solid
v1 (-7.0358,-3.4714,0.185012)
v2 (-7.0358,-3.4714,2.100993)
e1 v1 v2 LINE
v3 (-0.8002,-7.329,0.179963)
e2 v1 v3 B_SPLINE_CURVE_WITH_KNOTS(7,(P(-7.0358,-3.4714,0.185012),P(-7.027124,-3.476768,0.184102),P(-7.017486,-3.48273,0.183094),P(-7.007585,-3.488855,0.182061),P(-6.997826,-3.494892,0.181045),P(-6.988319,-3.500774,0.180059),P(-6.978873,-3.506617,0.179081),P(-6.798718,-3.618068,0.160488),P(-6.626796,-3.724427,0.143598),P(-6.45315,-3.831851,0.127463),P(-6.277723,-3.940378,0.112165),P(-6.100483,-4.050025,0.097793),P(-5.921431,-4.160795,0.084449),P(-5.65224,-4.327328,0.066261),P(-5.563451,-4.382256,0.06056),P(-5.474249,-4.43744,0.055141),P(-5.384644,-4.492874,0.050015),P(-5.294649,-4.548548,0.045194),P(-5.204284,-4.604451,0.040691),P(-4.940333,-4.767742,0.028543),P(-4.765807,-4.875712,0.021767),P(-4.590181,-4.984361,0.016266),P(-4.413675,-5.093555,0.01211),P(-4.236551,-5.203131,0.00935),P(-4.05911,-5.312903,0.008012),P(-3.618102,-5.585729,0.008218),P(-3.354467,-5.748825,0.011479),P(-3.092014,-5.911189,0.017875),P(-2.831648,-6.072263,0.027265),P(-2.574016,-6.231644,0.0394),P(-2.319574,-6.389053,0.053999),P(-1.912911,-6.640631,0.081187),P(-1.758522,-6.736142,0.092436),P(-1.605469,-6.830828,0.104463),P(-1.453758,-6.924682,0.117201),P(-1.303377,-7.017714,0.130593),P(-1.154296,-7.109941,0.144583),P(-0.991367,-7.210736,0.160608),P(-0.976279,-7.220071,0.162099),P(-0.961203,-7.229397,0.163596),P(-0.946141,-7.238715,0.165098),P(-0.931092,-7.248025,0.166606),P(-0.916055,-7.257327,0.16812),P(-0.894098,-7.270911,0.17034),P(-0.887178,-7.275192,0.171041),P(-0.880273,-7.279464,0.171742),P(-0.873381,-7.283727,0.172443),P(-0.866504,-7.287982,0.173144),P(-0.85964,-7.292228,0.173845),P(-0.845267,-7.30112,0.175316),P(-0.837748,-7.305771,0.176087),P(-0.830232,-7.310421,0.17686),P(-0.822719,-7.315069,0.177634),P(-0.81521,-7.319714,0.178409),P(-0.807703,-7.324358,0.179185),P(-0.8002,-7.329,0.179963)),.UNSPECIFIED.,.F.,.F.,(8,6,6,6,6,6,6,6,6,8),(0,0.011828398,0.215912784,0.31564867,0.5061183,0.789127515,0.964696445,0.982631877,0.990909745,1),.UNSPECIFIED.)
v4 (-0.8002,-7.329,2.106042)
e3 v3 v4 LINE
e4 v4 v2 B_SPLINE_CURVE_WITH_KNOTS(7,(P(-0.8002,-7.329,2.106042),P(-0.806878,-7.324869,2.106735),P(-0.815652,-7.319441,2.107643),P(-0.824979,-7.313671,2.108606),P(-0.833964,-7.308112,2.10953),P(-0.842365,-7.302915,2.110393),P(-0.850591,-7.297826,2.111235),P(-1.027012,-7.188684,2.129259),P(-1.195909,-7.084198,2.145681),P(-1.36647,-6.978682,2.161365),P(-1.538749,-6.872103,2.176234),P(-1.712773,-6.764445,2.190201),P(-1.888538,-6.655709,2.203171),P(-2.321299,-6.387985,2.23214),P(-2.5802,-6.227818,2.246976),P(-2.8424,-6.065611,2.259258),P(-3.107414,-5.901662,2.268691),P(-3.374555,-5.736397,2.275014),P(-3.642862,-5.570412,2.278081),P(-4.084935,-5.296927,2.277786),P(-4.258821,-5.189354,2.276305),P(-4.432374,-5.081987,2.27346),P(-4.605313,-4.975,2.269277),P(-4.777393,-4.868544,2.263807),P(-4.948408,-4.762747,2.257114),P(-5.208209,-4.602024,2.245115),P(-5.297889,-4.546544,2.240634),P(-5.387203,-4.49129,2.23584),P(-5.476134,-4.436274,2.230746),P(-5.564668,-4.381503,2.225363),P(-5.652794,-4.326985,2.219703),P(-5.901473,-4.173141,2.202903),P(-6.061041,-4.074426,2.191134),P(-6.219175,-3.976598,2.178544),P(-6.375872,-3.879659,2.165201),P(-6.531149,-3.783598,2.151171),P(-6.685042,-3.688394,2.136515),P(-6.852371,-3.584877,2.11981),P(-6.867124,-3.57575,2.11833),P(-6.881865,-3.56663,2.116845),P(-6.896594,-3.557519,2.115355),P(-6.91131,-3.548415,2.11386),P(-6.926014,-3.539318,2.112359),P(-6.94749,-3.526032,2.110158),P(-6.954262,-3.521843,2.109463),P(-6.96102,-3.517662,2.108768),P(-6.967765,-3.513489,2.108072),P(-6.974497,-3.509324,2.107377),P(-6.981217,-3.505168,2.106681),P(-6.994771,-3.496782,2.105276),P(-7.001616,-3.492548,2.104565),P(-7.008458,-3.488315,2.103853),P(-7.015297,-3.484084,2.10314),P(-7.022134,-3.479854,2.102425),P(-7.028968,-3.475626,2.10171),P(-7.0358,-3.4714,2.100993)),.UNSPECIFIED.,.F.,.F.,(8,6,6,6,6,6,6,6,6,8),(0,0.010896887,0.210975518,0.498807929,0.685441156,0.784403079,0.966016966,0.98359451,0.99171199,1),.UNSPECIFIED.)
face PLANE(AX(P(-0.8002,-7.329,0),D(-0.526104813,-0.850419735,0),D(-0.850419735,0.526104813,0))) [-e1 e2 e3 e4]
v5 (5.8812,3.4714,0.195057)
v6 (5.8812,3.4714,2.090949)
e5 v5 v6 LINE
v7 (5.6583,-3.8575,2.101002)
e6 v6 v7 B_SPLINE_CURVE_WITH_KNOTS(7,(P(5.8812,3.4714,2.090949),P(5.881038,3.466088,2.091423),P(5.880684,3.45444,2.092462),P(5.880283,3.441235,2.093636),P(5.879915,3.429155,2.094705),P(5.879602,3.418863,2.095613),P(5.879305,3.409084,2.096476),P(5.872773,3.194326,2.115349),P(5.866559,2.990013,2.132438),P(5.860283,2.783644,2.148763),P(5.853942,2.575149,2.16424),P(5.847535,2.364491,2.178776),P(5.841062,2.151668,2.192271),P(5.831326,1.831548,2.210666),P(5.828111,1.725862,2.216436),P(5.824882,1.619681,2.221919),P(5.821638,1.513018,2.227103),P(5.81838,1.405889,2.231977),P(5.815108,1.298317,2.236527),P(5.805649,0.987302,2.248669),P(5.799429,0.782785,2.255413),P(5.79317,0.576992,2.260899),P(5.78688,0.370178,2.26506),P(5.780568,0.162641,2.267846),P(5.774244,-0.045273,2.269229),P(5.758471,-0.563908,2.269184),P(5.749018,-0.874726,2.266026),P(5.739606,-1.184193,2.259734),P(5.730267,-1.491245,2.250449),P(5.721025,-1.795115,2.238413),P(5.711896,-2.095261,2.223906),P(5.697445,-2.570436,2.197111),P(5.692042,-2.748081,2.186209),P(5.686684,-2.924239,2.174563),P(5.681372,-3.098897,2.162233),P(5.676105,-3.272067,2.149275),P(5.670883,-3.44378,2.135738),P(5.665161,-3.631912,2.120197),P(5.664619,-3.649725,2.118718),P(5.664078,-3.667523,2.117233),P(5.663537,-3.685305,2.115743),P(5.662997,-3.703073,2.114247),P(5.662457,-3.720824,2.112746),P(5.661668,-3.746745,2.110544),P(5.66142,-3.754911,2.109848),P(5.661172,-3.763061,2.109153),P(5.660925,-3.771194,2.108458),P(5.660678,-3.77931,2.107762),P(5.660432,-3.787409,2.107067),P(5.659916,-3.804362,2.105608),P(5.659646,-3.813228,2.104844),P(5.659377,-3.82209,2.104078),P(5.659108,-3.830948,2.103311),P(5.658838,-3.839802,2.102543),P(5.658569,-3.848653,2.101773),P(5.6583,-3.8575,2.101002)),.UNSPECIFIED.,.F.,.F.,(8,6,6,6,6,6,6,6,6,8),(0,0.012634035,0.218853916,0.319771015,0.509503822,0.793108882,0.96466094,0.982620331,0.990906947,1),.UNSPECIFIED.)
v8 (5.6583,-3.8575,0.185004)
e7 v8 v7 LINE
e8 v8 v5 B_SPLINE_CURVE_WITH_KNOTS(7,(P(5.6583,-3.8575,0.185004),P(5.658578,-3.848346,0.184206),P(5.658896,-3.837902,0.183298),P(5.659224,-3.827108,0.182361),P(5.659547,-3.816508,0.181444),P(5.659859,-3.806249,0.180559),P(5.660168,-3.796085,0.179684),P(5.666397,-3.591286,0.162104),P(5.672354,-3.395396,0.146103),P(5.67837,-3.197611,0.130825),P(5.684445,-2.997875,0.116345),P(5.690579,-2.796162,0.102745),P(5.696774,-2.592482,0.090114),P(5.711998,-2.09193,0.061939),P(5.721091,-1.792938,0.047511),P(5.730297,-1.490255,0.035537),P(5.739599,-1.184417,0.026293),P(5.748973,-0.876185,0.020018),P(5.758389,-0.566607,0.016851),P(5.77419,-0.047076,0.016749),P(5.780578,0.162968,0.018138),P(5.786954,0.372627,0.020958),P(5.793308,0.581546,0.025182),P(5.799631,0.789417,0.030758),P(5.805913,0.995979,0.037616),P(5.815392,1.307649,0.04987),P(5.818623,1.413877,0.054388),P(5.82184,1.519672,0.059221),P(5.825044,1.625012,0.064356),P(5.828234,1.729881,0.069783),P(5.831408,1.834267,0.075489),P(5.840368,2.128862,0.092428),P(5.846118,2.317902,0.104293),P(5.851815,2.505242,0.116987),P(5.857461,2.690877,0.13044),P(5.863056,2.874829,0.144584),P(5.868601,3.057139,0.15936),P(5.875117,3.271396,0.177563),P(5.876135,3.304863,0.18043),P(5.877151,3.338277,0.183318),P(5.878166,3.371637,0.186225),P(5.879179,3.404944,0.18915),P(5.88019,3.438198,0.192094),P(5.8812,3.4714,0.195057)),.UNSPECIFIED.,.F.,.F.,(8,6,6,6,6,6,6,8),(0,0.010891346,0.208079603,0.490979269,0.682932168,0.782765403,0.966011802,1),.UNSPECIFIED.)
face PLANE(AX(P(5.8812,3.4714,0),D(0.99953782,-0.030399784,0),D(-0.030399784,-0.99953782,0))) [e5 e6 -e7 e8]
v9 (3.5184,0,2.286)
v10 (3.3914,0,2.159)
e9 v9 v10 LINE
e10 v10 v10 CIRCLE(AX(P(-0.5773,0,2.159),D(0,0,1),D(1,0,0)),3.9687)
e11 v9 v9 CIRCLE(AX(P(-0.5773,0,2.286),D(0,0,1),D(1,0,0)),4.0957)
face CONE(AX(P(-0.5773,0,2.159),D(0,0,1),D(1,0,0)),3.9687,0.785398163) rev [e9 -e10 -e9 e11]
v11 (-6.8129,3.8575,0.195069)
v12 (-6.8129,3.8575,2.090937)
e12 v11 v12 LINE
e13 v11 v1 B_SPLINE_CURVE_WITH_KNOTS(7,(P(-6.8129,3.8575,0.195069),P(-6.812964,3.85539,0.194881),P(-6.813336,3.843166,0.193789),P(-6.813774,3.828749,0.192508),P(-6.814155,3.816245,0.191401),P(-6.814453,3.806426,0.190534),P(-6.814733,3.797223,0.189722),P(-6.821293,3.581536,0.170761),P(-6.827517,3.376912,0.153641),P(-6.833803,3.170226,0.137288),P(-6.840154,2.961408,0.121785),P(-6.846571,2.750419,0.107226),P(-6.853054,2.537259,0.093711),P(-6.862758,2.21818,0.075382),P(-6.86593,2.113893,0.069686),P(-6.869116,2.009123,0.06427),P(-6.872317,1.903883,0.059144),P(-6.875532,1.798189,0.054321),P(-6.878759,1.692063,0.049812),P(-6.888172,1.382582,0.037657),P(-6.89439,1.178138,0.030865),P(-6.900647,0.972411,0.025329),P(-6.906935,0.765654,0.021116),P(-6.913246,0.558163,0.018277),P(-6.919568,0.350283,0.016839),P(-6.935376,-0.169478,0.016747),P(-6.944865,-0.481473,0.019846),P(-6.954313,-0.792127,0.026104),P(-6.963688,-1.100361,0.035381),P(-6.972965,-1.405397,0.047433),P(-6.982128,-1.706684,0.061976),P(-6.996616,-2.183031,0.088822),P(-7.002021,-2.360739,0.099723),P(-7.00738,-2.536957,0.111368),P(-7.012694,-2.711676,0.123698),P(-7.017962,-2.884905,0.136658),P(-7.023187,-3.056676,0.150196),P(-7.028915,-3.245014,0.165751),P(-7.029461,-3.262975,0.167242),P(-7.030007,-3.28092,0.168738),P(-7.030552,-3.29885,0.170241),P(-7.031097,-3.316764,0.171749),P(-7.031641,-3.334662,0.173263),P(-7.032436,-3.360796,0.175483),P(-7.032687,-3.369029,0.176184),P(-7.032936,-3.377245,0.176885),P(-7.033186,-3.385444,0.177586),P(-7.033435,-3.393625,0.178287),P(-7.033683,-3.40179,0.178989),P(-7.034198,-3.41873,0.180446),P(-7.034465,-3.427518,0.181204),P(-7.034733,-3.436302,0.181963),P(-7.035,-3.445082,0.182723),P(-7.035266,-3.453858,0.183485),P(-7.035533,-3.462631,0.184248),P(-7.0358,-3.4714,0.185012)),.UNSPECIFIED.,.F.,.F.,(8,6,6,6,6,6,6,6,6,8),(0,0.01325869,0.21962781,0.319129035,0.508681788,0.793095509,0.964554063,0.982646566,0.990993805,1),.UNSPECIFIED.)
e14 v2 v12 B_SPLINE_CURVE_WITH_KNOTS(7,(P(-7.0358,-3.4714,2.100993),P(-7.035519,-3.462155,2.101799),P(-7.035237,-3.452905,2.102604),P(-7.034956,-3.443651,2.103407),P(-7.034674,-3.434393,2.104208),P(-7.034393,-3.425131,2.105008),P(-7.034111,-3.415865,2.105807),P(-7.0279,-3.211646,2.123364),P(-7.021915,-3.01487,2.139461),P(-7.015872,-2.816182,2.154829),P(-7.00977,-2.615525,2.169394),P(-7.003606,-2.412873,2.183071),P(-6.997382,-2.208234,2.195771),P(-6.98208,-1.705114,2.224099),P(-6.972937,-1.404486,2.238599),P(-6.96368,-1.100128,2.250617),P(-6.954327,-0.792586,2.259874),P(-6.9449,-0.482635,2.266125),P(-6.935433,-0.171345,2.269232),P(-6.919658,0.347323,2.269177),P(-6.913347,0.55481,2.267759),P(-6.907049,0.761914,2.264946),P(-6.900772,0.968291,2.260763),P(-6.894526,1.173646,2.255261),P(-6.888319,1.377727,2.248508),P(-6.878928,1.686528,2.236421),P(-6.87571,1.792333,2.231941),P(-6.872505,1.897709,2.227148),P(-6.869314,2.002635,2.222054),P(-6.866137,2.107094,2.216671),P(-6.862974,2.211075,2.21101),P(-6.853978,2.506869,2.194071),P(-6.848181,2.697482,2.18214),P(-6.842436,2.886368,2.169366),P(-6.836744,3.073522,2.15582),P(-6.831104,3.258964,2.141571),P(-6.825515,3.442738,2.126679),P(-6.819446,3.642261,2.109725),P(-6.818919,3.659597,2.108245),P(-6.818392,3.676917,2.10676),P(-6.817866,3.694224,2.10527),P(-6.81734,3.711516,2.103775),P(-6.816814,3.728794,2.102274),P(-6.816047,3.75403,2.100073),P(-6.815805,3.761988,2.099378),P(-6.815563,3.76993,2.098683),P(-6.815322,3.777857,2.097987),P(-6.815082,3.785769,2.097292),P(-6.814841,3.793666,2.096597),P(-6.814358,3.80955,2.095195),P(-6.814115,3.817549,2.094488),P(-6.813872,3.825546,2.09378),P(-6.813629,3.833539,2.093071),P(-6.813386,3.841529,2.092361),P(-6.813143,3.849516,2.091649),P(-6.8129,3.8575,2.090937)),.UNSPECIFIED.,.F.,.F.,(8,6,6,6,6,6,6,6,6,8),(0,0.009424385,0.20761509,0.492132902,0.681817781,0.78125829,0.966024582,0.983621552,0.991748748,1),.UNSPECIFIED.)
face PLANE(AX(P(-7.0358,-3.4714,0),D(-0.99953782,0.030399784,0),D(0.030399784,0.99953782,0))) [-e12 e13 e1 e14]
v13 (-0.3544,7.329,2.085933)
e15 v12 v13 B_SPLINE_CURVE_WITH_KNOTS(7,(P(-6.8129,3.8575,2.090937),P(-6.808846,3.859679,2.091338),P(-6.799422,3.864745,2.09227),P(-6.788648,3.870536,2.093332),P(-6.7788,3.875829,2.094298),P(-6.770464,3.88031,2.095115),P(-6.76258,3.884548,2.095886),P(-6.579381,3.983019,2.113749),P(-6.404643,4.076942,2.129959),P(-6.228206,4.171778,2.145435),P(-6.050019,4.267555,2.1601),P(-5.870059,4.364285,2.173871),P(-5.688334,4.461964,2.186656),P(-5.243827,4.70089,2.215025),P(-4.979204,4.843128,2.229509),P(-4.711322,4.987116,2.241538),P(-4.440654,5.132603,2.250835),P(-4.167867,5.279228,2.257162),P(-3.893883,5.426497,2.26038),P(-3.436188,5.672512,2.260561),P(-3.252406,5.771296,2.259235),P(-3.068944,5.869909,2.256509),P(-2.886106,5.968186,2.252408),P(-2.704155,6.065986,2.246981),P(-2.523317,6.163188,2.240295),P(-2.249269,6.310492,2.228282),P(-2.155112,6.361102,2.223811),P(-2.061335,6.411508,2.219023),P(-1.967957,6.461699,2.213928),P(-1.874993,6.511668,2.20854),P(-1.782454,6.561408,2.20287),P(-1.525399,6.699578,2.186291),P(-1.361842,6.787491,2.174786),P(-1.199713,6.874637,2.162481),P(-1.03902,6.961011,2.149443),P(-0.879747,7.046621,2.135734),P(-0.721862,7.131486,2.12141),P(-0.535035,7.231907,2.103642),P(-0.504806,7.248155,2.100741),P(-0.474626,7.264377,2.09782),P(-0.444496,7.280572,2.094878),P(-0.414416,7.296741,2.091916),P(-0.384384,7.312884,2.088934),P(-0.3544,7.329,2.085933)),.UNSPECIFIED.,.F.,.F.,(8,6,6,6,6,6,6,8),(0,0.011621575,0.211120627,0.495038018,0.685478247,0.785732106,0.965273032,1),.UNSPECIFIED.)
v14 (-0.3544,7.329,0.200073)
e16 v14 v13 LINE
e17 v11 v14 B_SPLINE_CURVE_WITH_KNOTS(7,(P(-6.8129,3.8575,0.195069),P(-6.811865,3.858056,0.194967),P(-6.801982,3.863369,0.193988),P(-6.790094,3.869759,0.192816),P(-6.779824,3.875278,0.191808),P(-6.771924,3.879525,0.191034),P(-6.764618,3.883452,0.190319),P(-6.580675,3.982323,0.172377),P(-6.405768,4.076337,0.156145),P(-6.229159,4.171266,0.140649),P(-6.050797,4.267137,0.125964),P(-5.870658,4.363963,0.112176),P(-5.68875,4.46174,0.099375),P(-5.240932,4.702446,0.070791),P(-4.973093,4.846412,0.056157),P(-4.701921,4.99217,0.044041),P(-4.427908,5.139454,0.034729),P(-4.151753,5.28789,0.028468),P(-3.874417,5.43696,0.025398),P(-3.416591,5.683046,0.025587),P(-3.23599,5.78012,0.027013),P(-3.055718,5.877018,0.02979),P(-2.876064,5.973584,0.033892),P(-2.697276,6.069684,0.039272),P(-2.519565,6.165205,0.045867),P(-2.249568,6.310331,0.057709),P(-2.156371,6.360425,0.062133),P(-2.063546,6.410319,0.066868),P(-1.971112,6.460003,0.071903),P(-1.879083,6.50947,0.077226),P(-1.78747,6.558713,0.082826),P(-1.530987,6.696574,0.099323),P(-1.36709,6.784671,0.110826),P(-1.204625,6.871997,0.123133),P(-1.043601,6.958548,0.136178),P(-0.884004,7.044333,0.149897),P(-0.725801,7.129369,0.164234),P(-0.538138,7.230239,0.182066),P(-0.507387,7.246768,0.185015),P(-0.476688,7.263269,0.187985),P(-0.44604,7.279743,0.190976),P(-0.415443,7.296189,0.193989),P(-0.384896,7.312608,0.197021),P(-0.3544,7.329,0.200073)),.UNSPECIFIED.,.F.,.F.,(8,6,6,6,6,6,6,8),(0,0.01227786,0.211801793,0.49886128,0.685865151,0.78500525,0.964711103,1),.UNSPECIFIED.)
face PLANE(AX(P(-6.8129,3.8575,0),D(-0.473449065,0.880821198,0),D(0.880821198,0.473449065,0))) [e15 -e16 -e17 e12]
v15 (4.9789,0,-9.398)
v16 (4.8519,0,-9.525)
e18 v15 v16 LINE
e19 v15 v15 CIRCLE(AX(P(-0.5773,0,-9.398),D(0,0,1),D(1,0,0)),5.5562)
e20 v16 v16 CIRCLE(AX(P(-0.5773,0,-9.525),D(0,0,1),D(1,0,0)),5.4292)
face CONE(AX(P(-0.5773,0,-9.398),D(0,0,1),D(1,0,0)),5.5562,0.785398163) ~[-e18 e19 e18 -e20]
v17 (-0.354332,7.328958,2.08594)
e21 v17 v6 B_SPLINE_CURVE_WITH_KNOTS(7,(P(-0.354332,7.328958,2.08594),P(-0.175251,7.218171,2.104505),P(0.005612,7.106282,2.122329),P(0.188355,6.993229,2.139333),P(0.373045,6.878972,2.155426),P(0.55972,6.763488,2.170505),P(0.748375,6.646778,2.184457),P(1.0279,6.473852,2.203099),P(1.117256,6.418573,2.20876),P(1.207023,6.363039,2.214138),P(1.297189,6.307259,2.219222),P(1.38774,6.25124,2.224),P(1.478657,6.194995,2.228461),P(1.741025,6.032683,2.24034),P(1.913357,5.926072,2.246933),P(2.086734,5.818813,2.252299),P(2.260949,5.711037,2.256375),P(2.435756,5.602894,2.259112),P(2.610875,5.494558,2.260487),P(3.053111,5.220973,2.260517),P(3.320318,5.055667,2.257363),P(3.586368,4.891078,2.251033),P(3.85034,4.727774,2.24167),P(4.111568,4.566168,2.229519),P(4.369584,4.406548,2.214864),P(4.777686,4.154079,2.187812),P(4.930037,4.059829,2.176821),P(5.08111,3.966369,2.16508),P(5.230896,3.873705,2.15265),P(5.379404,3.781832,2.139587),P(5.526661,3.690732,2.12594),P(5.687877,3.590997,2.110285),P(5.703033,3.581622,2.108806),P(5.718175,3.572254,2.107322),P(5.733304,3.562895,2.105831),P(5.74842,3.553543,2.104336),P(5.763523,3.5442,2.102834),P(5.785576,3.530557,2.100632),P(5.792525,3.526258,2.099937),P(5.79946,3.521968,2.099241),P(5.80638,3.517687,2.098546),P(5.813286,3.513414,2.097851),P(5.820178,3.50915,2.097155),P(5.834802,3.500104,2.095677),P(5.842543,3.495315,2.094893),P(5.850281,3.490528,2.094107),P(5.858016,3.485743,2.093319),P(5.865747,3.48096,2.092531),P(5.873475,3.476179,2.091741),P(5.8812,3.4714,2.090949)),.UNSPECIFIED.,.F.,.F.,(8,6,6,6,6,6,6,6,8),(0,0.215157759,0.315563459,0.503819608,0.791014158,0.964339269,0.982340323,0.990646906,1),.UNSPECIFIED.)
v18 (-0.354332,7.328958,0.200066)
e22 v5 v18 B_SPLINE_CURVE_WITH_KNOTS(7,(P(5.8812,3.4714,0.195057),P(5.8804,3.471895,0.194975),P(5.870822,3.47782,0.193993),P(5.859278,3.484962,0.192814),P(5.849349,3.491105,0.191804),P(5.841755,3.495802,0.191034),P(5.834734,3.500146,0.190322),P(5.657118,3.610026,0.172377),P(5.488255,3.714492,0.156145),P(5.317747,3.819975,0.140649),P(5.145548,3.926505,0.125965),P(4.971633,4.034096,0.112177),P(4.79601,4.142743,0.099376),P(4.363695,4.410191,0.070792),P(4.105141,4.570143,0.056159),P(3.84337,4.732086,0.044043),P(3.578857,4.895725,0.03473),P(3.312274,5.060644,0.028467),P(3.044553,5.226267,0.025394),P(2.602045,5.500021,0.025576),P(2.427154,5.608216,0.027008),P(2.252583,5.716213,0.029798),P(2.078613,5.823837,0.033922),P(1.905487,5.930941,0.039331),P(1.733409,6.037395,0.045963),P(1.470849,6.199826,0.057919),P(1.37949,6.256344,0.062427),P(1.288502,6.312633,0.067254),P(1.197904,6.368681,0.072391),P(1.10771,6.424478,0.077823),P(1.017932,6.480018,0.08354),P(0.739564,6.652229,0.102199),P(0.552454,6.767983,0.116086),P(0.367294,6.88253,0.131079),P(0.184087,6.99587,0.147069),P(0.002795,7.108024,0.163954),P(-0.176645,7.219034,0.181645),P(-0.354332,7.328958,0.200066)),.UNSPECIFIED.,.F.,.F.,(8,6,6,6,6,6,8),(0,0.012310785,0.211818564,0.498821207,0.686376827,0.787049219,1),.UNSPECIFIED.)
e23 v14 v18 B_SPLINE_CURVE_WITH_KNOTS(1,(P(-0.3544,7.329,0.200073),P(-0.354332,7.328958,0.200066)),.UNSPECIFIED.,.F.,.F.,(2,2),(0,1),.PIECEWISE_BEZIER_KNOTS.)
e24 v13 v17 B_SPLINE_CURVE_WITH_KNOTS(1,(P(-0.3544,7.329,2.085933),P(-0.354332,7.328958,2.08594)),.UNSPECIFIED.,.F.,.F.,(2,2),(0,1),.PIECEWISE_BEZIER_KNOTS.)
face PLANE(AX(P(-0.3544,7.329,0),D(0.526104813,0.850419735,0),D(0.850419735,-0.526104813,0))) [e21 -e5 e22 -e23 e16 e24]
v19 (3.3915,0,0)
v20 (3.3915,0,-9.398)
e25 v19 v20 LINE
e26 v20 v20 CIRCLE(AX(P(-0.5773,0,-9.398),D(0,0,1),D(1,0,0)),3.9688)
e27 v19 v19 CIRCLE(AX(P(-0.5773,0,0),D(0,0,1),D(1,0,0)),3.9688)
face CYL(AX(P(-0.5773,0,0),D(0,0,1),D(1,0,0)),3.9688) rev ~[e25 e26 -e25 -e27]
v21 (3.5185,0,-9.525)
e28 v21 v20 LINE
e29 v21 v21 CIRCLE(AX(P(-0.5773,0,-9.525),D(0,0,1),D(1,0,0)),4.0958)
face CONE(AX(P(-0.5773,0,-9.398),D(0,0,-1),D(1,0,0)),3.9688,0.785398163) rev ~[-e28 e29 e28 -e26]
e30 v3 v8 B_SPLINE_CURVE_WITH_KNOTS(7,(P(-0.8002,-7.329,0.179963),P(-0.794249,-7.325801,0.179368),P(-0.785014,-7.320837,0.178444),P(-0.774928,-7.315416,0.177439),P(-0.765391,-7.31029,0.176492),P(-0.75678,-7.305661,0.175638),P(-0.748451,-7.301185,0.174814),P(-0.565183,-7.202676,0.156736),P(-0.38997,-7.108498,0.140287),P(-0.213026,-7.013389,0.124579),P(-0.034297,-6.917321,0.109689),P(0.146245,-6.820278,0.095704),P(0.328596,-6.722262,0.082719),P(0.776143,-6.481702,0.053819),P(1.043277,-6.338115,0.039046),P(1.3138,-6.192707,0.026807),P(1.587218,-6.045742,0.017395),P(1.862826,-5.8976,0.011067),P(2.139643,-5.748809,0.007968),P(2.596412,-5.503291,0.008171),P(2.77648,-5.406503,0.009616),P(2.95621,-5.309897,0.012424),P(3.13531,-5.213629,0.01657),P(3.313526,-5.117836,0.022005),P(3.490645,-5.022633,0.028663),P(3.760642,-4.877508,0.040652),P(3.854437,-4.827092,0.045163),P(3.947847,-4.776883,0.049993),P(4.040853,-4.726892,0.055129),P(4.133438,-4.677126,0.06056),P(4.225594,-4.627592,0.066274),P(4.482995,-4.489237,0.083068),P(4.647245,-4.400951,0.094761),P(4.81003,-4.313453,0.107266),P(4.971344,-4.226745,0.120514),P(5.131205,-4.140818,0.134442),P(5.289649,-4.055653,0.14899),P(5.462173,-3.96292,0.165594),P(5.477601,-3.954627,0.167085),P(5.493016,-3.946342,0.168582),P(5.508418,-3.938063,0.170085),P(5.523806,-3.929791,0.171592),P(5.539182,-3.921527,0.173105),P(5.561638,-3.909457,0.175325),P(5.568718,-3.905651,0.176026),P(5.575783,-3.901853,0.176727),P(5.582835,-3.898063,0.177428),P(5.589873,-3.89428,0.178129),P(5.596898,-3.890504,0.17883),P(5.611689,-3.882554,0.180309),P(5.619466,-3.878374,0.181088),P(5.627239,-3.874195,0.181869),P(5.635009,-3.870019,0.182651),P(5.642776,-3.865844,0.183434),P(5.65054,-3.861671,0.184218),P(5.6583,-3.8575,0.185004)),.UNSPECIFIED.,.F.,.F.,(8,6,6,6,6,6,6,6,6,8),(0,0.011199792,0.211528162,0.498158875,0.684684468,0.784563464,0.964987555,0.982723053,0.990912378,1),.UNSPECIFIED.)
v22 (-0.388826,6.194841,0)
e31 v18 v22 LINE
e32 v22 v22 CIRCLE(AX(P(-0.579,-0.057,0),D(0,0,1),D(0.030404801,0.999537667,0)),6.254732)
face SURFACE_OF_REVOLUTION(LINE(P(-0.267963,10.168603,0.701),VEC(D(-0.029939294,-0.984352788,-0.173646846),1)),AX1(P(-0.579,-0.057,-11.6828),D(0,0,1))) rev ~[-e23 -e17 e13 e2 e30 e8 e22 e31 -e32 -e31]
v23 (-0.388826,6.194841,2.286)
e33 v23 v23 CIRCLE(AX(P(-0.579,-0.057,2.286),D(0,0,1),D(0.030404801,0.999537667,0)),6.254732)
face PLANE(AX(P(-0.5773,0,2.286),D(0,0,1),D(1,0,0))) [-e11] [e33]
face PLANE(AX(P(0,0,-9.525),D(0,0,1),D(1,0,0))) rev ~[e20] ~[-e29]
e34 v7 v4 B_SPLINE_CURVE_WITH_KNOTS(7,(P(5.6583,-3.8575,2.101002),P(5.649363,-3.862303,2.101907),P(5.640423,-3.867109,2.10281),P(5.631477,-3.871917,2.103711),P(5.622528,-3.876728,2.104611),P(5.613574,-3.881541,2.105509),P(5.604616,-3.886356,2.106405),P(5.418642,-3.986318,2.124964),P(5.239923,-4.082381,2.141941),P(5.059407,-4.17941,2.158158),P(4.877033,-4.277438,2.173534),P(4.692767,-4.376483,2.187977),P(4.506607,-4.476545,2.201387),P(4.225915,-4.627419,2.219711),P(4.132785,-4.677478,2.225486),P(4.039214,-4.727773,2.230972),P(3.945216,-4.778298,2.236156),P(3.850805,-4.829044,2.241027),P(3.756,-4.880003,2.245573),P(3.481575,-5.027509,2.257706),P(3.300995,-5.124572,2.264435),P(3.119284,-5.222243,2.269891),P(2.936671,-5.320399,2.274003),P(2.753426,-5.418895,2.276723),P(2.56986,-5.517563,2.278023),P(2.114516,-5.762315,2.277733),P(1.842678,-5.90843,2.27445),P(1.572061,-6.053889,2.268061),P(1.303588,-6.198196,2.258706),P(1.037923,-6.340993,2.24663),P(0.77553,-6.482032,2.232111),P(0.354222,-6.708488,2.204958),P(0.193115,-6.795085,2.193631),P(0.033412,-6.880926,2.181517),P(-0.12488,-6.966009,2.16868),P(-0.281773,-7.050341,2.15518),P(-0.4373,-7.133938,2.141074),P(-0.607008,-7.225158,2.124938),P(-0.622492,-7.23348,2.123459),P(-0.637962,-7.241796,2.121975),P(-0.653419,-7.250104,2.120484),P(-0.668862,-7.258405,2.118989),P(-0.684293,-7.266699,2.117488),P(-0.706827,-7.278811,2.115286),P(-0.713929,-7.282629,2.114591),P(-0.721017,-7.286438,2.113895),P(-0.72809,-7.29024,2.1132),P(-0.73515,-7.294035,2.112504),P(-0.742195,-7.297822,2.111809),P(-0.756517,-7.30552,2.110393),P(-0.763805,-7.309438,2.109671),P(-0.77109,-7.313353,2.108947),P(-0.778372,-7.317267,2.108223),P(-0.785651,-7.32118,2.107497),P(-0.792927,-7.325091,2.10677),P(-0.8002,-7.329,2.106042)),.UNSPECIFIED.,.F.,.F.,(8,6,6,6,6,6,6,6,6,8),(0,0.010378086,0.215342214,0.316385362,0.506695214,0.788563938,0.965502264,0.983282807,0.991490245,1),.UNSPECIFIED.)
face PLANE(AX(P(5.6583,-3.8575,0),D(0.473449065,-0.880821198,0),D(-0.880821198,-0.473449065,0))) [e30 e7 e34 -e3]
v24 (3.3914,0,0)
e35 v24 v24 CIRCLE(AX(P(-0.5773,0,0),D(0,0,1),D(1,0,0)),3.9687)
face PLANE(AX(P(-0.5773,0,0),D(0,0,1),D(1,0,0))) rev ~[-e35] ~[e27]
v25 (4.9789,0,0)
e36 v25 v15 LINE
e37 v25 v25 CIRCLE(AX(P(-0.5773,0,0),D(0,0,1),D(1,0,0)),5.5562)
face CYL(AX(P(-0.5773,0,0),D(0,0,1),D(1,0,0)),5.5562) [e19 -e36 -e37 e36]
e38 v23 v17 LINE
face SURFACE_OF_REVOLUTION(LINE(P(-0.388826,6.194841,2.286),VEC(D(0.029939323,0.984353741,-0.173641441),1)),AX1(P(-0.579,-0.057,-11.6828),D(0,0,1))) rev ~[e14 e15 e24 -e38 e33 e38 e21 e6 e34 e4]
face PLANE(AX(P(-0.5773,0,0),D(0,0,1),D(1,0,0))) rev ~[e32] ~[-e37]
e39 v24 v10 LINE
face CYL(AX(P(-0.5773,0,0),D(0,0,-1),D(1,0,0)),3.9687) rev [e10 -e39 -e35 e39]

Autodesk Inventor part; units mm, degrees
ref_plane "YZ Plane" through (0, 0, 0) normal (1, 0, 0) x (0, 1, 0)
ref_plane "Work Plane1" through (0, 0, 0) normal (0, 0, 1) x (1, 0, 0)
sketch "Sketch2" plane through (0, 0, 0) normal (0, 0, 1) x (1, 0, 0)
  circle A0 centre (-0.5773, 0) radius 5.5562 projected
  circle A1 centre (-0.5773, 0) radius 3.9688
  dimension "d2" = 7.9375
extrude "Extrusion1" add sketch "Sketch2" against normal blind 9.525
sketch "Sketch3" plane through (-0.5773, 0, 0) normal (0, 0, 1) x (1, 0, 0)
  line L0 (6.4585, 3.4714) -> (6.2356, -3.8575)
  line L1 (6.2356, -3.8575) -> (-0.2229, -7.329)
  line L2 (-0.2229, -7.329) -> (-6.4585, -3.4714)
  line L3 (-6.4585, -3.4714) -> (-6.2356, 3.8575)
  line L4 (-6.2356, 3.8575) -> (0.2229, 7.329)
  line L5 (0.2229, 7.329) -> (6.4585, 3.4714)
  circle A0 centre (0, 0) radius 3.9687 projected
  dimension "d5" = 12.7
extrude "Extrusion2" add sketch "Sketch3" along normal blind 2.286
chamfer "Chamfer1" distance 0.127 angle 45 3 edges at (-6.1335, 0, -9.525) (-4.546, 0, -9.525) (-4.546, 0, 2.286)
ref_plane "Work Plane2" through (-0.6887, -3.6645, 2.286) normal (0.9995, -0.0304, 0) x (0, 0, -1)
sketch "Sketch4" plane through (-0.6887, -3.6645, 2.286) normal (0.9995, -0.0304, 0) x (0, 0, -1)
  line L0 (0.127, 7.5779) -> (11.684, 7.5779) construction
  line L1 (0.0196, 8.031) -> (-0.0196, 11.6969) construction
  line L2 (2.286, 8.0308) -> (2.286, 11.697) construction
  line L3 (0, 9.8639) -> (0.6953, 13.8073)
  line L4 (0.6953, 13.8073) -> (0, 13.8073)
  line L5 (0, 13.8073) -> (0, 9.8639)
  line L6 (2.286, 9.8639) -> (2.286, 13.8395)
  line L7 (2.286, 13.8395) -> (1.585, 13.8395)
  line L8 (1.585, 13.8395) -> (2.286, 9.8639)
  line L9 (13.9688, 3.6092) -> (-4.4249, 3.6092)
  dimension "d11" = 10
  dimension "d12" = 2.286
  dimension "d13" = 10
  dimension "d14" = 2.286
  dimension "d15" = 3.9688
revolve "Revolution1" cut sketch "Sketch4" angle 360 about axis through (-0.579, -0.057, -11.6828) along (0, 0, 1)
properties part number "hex sleeve" material "Stainless Steel"
